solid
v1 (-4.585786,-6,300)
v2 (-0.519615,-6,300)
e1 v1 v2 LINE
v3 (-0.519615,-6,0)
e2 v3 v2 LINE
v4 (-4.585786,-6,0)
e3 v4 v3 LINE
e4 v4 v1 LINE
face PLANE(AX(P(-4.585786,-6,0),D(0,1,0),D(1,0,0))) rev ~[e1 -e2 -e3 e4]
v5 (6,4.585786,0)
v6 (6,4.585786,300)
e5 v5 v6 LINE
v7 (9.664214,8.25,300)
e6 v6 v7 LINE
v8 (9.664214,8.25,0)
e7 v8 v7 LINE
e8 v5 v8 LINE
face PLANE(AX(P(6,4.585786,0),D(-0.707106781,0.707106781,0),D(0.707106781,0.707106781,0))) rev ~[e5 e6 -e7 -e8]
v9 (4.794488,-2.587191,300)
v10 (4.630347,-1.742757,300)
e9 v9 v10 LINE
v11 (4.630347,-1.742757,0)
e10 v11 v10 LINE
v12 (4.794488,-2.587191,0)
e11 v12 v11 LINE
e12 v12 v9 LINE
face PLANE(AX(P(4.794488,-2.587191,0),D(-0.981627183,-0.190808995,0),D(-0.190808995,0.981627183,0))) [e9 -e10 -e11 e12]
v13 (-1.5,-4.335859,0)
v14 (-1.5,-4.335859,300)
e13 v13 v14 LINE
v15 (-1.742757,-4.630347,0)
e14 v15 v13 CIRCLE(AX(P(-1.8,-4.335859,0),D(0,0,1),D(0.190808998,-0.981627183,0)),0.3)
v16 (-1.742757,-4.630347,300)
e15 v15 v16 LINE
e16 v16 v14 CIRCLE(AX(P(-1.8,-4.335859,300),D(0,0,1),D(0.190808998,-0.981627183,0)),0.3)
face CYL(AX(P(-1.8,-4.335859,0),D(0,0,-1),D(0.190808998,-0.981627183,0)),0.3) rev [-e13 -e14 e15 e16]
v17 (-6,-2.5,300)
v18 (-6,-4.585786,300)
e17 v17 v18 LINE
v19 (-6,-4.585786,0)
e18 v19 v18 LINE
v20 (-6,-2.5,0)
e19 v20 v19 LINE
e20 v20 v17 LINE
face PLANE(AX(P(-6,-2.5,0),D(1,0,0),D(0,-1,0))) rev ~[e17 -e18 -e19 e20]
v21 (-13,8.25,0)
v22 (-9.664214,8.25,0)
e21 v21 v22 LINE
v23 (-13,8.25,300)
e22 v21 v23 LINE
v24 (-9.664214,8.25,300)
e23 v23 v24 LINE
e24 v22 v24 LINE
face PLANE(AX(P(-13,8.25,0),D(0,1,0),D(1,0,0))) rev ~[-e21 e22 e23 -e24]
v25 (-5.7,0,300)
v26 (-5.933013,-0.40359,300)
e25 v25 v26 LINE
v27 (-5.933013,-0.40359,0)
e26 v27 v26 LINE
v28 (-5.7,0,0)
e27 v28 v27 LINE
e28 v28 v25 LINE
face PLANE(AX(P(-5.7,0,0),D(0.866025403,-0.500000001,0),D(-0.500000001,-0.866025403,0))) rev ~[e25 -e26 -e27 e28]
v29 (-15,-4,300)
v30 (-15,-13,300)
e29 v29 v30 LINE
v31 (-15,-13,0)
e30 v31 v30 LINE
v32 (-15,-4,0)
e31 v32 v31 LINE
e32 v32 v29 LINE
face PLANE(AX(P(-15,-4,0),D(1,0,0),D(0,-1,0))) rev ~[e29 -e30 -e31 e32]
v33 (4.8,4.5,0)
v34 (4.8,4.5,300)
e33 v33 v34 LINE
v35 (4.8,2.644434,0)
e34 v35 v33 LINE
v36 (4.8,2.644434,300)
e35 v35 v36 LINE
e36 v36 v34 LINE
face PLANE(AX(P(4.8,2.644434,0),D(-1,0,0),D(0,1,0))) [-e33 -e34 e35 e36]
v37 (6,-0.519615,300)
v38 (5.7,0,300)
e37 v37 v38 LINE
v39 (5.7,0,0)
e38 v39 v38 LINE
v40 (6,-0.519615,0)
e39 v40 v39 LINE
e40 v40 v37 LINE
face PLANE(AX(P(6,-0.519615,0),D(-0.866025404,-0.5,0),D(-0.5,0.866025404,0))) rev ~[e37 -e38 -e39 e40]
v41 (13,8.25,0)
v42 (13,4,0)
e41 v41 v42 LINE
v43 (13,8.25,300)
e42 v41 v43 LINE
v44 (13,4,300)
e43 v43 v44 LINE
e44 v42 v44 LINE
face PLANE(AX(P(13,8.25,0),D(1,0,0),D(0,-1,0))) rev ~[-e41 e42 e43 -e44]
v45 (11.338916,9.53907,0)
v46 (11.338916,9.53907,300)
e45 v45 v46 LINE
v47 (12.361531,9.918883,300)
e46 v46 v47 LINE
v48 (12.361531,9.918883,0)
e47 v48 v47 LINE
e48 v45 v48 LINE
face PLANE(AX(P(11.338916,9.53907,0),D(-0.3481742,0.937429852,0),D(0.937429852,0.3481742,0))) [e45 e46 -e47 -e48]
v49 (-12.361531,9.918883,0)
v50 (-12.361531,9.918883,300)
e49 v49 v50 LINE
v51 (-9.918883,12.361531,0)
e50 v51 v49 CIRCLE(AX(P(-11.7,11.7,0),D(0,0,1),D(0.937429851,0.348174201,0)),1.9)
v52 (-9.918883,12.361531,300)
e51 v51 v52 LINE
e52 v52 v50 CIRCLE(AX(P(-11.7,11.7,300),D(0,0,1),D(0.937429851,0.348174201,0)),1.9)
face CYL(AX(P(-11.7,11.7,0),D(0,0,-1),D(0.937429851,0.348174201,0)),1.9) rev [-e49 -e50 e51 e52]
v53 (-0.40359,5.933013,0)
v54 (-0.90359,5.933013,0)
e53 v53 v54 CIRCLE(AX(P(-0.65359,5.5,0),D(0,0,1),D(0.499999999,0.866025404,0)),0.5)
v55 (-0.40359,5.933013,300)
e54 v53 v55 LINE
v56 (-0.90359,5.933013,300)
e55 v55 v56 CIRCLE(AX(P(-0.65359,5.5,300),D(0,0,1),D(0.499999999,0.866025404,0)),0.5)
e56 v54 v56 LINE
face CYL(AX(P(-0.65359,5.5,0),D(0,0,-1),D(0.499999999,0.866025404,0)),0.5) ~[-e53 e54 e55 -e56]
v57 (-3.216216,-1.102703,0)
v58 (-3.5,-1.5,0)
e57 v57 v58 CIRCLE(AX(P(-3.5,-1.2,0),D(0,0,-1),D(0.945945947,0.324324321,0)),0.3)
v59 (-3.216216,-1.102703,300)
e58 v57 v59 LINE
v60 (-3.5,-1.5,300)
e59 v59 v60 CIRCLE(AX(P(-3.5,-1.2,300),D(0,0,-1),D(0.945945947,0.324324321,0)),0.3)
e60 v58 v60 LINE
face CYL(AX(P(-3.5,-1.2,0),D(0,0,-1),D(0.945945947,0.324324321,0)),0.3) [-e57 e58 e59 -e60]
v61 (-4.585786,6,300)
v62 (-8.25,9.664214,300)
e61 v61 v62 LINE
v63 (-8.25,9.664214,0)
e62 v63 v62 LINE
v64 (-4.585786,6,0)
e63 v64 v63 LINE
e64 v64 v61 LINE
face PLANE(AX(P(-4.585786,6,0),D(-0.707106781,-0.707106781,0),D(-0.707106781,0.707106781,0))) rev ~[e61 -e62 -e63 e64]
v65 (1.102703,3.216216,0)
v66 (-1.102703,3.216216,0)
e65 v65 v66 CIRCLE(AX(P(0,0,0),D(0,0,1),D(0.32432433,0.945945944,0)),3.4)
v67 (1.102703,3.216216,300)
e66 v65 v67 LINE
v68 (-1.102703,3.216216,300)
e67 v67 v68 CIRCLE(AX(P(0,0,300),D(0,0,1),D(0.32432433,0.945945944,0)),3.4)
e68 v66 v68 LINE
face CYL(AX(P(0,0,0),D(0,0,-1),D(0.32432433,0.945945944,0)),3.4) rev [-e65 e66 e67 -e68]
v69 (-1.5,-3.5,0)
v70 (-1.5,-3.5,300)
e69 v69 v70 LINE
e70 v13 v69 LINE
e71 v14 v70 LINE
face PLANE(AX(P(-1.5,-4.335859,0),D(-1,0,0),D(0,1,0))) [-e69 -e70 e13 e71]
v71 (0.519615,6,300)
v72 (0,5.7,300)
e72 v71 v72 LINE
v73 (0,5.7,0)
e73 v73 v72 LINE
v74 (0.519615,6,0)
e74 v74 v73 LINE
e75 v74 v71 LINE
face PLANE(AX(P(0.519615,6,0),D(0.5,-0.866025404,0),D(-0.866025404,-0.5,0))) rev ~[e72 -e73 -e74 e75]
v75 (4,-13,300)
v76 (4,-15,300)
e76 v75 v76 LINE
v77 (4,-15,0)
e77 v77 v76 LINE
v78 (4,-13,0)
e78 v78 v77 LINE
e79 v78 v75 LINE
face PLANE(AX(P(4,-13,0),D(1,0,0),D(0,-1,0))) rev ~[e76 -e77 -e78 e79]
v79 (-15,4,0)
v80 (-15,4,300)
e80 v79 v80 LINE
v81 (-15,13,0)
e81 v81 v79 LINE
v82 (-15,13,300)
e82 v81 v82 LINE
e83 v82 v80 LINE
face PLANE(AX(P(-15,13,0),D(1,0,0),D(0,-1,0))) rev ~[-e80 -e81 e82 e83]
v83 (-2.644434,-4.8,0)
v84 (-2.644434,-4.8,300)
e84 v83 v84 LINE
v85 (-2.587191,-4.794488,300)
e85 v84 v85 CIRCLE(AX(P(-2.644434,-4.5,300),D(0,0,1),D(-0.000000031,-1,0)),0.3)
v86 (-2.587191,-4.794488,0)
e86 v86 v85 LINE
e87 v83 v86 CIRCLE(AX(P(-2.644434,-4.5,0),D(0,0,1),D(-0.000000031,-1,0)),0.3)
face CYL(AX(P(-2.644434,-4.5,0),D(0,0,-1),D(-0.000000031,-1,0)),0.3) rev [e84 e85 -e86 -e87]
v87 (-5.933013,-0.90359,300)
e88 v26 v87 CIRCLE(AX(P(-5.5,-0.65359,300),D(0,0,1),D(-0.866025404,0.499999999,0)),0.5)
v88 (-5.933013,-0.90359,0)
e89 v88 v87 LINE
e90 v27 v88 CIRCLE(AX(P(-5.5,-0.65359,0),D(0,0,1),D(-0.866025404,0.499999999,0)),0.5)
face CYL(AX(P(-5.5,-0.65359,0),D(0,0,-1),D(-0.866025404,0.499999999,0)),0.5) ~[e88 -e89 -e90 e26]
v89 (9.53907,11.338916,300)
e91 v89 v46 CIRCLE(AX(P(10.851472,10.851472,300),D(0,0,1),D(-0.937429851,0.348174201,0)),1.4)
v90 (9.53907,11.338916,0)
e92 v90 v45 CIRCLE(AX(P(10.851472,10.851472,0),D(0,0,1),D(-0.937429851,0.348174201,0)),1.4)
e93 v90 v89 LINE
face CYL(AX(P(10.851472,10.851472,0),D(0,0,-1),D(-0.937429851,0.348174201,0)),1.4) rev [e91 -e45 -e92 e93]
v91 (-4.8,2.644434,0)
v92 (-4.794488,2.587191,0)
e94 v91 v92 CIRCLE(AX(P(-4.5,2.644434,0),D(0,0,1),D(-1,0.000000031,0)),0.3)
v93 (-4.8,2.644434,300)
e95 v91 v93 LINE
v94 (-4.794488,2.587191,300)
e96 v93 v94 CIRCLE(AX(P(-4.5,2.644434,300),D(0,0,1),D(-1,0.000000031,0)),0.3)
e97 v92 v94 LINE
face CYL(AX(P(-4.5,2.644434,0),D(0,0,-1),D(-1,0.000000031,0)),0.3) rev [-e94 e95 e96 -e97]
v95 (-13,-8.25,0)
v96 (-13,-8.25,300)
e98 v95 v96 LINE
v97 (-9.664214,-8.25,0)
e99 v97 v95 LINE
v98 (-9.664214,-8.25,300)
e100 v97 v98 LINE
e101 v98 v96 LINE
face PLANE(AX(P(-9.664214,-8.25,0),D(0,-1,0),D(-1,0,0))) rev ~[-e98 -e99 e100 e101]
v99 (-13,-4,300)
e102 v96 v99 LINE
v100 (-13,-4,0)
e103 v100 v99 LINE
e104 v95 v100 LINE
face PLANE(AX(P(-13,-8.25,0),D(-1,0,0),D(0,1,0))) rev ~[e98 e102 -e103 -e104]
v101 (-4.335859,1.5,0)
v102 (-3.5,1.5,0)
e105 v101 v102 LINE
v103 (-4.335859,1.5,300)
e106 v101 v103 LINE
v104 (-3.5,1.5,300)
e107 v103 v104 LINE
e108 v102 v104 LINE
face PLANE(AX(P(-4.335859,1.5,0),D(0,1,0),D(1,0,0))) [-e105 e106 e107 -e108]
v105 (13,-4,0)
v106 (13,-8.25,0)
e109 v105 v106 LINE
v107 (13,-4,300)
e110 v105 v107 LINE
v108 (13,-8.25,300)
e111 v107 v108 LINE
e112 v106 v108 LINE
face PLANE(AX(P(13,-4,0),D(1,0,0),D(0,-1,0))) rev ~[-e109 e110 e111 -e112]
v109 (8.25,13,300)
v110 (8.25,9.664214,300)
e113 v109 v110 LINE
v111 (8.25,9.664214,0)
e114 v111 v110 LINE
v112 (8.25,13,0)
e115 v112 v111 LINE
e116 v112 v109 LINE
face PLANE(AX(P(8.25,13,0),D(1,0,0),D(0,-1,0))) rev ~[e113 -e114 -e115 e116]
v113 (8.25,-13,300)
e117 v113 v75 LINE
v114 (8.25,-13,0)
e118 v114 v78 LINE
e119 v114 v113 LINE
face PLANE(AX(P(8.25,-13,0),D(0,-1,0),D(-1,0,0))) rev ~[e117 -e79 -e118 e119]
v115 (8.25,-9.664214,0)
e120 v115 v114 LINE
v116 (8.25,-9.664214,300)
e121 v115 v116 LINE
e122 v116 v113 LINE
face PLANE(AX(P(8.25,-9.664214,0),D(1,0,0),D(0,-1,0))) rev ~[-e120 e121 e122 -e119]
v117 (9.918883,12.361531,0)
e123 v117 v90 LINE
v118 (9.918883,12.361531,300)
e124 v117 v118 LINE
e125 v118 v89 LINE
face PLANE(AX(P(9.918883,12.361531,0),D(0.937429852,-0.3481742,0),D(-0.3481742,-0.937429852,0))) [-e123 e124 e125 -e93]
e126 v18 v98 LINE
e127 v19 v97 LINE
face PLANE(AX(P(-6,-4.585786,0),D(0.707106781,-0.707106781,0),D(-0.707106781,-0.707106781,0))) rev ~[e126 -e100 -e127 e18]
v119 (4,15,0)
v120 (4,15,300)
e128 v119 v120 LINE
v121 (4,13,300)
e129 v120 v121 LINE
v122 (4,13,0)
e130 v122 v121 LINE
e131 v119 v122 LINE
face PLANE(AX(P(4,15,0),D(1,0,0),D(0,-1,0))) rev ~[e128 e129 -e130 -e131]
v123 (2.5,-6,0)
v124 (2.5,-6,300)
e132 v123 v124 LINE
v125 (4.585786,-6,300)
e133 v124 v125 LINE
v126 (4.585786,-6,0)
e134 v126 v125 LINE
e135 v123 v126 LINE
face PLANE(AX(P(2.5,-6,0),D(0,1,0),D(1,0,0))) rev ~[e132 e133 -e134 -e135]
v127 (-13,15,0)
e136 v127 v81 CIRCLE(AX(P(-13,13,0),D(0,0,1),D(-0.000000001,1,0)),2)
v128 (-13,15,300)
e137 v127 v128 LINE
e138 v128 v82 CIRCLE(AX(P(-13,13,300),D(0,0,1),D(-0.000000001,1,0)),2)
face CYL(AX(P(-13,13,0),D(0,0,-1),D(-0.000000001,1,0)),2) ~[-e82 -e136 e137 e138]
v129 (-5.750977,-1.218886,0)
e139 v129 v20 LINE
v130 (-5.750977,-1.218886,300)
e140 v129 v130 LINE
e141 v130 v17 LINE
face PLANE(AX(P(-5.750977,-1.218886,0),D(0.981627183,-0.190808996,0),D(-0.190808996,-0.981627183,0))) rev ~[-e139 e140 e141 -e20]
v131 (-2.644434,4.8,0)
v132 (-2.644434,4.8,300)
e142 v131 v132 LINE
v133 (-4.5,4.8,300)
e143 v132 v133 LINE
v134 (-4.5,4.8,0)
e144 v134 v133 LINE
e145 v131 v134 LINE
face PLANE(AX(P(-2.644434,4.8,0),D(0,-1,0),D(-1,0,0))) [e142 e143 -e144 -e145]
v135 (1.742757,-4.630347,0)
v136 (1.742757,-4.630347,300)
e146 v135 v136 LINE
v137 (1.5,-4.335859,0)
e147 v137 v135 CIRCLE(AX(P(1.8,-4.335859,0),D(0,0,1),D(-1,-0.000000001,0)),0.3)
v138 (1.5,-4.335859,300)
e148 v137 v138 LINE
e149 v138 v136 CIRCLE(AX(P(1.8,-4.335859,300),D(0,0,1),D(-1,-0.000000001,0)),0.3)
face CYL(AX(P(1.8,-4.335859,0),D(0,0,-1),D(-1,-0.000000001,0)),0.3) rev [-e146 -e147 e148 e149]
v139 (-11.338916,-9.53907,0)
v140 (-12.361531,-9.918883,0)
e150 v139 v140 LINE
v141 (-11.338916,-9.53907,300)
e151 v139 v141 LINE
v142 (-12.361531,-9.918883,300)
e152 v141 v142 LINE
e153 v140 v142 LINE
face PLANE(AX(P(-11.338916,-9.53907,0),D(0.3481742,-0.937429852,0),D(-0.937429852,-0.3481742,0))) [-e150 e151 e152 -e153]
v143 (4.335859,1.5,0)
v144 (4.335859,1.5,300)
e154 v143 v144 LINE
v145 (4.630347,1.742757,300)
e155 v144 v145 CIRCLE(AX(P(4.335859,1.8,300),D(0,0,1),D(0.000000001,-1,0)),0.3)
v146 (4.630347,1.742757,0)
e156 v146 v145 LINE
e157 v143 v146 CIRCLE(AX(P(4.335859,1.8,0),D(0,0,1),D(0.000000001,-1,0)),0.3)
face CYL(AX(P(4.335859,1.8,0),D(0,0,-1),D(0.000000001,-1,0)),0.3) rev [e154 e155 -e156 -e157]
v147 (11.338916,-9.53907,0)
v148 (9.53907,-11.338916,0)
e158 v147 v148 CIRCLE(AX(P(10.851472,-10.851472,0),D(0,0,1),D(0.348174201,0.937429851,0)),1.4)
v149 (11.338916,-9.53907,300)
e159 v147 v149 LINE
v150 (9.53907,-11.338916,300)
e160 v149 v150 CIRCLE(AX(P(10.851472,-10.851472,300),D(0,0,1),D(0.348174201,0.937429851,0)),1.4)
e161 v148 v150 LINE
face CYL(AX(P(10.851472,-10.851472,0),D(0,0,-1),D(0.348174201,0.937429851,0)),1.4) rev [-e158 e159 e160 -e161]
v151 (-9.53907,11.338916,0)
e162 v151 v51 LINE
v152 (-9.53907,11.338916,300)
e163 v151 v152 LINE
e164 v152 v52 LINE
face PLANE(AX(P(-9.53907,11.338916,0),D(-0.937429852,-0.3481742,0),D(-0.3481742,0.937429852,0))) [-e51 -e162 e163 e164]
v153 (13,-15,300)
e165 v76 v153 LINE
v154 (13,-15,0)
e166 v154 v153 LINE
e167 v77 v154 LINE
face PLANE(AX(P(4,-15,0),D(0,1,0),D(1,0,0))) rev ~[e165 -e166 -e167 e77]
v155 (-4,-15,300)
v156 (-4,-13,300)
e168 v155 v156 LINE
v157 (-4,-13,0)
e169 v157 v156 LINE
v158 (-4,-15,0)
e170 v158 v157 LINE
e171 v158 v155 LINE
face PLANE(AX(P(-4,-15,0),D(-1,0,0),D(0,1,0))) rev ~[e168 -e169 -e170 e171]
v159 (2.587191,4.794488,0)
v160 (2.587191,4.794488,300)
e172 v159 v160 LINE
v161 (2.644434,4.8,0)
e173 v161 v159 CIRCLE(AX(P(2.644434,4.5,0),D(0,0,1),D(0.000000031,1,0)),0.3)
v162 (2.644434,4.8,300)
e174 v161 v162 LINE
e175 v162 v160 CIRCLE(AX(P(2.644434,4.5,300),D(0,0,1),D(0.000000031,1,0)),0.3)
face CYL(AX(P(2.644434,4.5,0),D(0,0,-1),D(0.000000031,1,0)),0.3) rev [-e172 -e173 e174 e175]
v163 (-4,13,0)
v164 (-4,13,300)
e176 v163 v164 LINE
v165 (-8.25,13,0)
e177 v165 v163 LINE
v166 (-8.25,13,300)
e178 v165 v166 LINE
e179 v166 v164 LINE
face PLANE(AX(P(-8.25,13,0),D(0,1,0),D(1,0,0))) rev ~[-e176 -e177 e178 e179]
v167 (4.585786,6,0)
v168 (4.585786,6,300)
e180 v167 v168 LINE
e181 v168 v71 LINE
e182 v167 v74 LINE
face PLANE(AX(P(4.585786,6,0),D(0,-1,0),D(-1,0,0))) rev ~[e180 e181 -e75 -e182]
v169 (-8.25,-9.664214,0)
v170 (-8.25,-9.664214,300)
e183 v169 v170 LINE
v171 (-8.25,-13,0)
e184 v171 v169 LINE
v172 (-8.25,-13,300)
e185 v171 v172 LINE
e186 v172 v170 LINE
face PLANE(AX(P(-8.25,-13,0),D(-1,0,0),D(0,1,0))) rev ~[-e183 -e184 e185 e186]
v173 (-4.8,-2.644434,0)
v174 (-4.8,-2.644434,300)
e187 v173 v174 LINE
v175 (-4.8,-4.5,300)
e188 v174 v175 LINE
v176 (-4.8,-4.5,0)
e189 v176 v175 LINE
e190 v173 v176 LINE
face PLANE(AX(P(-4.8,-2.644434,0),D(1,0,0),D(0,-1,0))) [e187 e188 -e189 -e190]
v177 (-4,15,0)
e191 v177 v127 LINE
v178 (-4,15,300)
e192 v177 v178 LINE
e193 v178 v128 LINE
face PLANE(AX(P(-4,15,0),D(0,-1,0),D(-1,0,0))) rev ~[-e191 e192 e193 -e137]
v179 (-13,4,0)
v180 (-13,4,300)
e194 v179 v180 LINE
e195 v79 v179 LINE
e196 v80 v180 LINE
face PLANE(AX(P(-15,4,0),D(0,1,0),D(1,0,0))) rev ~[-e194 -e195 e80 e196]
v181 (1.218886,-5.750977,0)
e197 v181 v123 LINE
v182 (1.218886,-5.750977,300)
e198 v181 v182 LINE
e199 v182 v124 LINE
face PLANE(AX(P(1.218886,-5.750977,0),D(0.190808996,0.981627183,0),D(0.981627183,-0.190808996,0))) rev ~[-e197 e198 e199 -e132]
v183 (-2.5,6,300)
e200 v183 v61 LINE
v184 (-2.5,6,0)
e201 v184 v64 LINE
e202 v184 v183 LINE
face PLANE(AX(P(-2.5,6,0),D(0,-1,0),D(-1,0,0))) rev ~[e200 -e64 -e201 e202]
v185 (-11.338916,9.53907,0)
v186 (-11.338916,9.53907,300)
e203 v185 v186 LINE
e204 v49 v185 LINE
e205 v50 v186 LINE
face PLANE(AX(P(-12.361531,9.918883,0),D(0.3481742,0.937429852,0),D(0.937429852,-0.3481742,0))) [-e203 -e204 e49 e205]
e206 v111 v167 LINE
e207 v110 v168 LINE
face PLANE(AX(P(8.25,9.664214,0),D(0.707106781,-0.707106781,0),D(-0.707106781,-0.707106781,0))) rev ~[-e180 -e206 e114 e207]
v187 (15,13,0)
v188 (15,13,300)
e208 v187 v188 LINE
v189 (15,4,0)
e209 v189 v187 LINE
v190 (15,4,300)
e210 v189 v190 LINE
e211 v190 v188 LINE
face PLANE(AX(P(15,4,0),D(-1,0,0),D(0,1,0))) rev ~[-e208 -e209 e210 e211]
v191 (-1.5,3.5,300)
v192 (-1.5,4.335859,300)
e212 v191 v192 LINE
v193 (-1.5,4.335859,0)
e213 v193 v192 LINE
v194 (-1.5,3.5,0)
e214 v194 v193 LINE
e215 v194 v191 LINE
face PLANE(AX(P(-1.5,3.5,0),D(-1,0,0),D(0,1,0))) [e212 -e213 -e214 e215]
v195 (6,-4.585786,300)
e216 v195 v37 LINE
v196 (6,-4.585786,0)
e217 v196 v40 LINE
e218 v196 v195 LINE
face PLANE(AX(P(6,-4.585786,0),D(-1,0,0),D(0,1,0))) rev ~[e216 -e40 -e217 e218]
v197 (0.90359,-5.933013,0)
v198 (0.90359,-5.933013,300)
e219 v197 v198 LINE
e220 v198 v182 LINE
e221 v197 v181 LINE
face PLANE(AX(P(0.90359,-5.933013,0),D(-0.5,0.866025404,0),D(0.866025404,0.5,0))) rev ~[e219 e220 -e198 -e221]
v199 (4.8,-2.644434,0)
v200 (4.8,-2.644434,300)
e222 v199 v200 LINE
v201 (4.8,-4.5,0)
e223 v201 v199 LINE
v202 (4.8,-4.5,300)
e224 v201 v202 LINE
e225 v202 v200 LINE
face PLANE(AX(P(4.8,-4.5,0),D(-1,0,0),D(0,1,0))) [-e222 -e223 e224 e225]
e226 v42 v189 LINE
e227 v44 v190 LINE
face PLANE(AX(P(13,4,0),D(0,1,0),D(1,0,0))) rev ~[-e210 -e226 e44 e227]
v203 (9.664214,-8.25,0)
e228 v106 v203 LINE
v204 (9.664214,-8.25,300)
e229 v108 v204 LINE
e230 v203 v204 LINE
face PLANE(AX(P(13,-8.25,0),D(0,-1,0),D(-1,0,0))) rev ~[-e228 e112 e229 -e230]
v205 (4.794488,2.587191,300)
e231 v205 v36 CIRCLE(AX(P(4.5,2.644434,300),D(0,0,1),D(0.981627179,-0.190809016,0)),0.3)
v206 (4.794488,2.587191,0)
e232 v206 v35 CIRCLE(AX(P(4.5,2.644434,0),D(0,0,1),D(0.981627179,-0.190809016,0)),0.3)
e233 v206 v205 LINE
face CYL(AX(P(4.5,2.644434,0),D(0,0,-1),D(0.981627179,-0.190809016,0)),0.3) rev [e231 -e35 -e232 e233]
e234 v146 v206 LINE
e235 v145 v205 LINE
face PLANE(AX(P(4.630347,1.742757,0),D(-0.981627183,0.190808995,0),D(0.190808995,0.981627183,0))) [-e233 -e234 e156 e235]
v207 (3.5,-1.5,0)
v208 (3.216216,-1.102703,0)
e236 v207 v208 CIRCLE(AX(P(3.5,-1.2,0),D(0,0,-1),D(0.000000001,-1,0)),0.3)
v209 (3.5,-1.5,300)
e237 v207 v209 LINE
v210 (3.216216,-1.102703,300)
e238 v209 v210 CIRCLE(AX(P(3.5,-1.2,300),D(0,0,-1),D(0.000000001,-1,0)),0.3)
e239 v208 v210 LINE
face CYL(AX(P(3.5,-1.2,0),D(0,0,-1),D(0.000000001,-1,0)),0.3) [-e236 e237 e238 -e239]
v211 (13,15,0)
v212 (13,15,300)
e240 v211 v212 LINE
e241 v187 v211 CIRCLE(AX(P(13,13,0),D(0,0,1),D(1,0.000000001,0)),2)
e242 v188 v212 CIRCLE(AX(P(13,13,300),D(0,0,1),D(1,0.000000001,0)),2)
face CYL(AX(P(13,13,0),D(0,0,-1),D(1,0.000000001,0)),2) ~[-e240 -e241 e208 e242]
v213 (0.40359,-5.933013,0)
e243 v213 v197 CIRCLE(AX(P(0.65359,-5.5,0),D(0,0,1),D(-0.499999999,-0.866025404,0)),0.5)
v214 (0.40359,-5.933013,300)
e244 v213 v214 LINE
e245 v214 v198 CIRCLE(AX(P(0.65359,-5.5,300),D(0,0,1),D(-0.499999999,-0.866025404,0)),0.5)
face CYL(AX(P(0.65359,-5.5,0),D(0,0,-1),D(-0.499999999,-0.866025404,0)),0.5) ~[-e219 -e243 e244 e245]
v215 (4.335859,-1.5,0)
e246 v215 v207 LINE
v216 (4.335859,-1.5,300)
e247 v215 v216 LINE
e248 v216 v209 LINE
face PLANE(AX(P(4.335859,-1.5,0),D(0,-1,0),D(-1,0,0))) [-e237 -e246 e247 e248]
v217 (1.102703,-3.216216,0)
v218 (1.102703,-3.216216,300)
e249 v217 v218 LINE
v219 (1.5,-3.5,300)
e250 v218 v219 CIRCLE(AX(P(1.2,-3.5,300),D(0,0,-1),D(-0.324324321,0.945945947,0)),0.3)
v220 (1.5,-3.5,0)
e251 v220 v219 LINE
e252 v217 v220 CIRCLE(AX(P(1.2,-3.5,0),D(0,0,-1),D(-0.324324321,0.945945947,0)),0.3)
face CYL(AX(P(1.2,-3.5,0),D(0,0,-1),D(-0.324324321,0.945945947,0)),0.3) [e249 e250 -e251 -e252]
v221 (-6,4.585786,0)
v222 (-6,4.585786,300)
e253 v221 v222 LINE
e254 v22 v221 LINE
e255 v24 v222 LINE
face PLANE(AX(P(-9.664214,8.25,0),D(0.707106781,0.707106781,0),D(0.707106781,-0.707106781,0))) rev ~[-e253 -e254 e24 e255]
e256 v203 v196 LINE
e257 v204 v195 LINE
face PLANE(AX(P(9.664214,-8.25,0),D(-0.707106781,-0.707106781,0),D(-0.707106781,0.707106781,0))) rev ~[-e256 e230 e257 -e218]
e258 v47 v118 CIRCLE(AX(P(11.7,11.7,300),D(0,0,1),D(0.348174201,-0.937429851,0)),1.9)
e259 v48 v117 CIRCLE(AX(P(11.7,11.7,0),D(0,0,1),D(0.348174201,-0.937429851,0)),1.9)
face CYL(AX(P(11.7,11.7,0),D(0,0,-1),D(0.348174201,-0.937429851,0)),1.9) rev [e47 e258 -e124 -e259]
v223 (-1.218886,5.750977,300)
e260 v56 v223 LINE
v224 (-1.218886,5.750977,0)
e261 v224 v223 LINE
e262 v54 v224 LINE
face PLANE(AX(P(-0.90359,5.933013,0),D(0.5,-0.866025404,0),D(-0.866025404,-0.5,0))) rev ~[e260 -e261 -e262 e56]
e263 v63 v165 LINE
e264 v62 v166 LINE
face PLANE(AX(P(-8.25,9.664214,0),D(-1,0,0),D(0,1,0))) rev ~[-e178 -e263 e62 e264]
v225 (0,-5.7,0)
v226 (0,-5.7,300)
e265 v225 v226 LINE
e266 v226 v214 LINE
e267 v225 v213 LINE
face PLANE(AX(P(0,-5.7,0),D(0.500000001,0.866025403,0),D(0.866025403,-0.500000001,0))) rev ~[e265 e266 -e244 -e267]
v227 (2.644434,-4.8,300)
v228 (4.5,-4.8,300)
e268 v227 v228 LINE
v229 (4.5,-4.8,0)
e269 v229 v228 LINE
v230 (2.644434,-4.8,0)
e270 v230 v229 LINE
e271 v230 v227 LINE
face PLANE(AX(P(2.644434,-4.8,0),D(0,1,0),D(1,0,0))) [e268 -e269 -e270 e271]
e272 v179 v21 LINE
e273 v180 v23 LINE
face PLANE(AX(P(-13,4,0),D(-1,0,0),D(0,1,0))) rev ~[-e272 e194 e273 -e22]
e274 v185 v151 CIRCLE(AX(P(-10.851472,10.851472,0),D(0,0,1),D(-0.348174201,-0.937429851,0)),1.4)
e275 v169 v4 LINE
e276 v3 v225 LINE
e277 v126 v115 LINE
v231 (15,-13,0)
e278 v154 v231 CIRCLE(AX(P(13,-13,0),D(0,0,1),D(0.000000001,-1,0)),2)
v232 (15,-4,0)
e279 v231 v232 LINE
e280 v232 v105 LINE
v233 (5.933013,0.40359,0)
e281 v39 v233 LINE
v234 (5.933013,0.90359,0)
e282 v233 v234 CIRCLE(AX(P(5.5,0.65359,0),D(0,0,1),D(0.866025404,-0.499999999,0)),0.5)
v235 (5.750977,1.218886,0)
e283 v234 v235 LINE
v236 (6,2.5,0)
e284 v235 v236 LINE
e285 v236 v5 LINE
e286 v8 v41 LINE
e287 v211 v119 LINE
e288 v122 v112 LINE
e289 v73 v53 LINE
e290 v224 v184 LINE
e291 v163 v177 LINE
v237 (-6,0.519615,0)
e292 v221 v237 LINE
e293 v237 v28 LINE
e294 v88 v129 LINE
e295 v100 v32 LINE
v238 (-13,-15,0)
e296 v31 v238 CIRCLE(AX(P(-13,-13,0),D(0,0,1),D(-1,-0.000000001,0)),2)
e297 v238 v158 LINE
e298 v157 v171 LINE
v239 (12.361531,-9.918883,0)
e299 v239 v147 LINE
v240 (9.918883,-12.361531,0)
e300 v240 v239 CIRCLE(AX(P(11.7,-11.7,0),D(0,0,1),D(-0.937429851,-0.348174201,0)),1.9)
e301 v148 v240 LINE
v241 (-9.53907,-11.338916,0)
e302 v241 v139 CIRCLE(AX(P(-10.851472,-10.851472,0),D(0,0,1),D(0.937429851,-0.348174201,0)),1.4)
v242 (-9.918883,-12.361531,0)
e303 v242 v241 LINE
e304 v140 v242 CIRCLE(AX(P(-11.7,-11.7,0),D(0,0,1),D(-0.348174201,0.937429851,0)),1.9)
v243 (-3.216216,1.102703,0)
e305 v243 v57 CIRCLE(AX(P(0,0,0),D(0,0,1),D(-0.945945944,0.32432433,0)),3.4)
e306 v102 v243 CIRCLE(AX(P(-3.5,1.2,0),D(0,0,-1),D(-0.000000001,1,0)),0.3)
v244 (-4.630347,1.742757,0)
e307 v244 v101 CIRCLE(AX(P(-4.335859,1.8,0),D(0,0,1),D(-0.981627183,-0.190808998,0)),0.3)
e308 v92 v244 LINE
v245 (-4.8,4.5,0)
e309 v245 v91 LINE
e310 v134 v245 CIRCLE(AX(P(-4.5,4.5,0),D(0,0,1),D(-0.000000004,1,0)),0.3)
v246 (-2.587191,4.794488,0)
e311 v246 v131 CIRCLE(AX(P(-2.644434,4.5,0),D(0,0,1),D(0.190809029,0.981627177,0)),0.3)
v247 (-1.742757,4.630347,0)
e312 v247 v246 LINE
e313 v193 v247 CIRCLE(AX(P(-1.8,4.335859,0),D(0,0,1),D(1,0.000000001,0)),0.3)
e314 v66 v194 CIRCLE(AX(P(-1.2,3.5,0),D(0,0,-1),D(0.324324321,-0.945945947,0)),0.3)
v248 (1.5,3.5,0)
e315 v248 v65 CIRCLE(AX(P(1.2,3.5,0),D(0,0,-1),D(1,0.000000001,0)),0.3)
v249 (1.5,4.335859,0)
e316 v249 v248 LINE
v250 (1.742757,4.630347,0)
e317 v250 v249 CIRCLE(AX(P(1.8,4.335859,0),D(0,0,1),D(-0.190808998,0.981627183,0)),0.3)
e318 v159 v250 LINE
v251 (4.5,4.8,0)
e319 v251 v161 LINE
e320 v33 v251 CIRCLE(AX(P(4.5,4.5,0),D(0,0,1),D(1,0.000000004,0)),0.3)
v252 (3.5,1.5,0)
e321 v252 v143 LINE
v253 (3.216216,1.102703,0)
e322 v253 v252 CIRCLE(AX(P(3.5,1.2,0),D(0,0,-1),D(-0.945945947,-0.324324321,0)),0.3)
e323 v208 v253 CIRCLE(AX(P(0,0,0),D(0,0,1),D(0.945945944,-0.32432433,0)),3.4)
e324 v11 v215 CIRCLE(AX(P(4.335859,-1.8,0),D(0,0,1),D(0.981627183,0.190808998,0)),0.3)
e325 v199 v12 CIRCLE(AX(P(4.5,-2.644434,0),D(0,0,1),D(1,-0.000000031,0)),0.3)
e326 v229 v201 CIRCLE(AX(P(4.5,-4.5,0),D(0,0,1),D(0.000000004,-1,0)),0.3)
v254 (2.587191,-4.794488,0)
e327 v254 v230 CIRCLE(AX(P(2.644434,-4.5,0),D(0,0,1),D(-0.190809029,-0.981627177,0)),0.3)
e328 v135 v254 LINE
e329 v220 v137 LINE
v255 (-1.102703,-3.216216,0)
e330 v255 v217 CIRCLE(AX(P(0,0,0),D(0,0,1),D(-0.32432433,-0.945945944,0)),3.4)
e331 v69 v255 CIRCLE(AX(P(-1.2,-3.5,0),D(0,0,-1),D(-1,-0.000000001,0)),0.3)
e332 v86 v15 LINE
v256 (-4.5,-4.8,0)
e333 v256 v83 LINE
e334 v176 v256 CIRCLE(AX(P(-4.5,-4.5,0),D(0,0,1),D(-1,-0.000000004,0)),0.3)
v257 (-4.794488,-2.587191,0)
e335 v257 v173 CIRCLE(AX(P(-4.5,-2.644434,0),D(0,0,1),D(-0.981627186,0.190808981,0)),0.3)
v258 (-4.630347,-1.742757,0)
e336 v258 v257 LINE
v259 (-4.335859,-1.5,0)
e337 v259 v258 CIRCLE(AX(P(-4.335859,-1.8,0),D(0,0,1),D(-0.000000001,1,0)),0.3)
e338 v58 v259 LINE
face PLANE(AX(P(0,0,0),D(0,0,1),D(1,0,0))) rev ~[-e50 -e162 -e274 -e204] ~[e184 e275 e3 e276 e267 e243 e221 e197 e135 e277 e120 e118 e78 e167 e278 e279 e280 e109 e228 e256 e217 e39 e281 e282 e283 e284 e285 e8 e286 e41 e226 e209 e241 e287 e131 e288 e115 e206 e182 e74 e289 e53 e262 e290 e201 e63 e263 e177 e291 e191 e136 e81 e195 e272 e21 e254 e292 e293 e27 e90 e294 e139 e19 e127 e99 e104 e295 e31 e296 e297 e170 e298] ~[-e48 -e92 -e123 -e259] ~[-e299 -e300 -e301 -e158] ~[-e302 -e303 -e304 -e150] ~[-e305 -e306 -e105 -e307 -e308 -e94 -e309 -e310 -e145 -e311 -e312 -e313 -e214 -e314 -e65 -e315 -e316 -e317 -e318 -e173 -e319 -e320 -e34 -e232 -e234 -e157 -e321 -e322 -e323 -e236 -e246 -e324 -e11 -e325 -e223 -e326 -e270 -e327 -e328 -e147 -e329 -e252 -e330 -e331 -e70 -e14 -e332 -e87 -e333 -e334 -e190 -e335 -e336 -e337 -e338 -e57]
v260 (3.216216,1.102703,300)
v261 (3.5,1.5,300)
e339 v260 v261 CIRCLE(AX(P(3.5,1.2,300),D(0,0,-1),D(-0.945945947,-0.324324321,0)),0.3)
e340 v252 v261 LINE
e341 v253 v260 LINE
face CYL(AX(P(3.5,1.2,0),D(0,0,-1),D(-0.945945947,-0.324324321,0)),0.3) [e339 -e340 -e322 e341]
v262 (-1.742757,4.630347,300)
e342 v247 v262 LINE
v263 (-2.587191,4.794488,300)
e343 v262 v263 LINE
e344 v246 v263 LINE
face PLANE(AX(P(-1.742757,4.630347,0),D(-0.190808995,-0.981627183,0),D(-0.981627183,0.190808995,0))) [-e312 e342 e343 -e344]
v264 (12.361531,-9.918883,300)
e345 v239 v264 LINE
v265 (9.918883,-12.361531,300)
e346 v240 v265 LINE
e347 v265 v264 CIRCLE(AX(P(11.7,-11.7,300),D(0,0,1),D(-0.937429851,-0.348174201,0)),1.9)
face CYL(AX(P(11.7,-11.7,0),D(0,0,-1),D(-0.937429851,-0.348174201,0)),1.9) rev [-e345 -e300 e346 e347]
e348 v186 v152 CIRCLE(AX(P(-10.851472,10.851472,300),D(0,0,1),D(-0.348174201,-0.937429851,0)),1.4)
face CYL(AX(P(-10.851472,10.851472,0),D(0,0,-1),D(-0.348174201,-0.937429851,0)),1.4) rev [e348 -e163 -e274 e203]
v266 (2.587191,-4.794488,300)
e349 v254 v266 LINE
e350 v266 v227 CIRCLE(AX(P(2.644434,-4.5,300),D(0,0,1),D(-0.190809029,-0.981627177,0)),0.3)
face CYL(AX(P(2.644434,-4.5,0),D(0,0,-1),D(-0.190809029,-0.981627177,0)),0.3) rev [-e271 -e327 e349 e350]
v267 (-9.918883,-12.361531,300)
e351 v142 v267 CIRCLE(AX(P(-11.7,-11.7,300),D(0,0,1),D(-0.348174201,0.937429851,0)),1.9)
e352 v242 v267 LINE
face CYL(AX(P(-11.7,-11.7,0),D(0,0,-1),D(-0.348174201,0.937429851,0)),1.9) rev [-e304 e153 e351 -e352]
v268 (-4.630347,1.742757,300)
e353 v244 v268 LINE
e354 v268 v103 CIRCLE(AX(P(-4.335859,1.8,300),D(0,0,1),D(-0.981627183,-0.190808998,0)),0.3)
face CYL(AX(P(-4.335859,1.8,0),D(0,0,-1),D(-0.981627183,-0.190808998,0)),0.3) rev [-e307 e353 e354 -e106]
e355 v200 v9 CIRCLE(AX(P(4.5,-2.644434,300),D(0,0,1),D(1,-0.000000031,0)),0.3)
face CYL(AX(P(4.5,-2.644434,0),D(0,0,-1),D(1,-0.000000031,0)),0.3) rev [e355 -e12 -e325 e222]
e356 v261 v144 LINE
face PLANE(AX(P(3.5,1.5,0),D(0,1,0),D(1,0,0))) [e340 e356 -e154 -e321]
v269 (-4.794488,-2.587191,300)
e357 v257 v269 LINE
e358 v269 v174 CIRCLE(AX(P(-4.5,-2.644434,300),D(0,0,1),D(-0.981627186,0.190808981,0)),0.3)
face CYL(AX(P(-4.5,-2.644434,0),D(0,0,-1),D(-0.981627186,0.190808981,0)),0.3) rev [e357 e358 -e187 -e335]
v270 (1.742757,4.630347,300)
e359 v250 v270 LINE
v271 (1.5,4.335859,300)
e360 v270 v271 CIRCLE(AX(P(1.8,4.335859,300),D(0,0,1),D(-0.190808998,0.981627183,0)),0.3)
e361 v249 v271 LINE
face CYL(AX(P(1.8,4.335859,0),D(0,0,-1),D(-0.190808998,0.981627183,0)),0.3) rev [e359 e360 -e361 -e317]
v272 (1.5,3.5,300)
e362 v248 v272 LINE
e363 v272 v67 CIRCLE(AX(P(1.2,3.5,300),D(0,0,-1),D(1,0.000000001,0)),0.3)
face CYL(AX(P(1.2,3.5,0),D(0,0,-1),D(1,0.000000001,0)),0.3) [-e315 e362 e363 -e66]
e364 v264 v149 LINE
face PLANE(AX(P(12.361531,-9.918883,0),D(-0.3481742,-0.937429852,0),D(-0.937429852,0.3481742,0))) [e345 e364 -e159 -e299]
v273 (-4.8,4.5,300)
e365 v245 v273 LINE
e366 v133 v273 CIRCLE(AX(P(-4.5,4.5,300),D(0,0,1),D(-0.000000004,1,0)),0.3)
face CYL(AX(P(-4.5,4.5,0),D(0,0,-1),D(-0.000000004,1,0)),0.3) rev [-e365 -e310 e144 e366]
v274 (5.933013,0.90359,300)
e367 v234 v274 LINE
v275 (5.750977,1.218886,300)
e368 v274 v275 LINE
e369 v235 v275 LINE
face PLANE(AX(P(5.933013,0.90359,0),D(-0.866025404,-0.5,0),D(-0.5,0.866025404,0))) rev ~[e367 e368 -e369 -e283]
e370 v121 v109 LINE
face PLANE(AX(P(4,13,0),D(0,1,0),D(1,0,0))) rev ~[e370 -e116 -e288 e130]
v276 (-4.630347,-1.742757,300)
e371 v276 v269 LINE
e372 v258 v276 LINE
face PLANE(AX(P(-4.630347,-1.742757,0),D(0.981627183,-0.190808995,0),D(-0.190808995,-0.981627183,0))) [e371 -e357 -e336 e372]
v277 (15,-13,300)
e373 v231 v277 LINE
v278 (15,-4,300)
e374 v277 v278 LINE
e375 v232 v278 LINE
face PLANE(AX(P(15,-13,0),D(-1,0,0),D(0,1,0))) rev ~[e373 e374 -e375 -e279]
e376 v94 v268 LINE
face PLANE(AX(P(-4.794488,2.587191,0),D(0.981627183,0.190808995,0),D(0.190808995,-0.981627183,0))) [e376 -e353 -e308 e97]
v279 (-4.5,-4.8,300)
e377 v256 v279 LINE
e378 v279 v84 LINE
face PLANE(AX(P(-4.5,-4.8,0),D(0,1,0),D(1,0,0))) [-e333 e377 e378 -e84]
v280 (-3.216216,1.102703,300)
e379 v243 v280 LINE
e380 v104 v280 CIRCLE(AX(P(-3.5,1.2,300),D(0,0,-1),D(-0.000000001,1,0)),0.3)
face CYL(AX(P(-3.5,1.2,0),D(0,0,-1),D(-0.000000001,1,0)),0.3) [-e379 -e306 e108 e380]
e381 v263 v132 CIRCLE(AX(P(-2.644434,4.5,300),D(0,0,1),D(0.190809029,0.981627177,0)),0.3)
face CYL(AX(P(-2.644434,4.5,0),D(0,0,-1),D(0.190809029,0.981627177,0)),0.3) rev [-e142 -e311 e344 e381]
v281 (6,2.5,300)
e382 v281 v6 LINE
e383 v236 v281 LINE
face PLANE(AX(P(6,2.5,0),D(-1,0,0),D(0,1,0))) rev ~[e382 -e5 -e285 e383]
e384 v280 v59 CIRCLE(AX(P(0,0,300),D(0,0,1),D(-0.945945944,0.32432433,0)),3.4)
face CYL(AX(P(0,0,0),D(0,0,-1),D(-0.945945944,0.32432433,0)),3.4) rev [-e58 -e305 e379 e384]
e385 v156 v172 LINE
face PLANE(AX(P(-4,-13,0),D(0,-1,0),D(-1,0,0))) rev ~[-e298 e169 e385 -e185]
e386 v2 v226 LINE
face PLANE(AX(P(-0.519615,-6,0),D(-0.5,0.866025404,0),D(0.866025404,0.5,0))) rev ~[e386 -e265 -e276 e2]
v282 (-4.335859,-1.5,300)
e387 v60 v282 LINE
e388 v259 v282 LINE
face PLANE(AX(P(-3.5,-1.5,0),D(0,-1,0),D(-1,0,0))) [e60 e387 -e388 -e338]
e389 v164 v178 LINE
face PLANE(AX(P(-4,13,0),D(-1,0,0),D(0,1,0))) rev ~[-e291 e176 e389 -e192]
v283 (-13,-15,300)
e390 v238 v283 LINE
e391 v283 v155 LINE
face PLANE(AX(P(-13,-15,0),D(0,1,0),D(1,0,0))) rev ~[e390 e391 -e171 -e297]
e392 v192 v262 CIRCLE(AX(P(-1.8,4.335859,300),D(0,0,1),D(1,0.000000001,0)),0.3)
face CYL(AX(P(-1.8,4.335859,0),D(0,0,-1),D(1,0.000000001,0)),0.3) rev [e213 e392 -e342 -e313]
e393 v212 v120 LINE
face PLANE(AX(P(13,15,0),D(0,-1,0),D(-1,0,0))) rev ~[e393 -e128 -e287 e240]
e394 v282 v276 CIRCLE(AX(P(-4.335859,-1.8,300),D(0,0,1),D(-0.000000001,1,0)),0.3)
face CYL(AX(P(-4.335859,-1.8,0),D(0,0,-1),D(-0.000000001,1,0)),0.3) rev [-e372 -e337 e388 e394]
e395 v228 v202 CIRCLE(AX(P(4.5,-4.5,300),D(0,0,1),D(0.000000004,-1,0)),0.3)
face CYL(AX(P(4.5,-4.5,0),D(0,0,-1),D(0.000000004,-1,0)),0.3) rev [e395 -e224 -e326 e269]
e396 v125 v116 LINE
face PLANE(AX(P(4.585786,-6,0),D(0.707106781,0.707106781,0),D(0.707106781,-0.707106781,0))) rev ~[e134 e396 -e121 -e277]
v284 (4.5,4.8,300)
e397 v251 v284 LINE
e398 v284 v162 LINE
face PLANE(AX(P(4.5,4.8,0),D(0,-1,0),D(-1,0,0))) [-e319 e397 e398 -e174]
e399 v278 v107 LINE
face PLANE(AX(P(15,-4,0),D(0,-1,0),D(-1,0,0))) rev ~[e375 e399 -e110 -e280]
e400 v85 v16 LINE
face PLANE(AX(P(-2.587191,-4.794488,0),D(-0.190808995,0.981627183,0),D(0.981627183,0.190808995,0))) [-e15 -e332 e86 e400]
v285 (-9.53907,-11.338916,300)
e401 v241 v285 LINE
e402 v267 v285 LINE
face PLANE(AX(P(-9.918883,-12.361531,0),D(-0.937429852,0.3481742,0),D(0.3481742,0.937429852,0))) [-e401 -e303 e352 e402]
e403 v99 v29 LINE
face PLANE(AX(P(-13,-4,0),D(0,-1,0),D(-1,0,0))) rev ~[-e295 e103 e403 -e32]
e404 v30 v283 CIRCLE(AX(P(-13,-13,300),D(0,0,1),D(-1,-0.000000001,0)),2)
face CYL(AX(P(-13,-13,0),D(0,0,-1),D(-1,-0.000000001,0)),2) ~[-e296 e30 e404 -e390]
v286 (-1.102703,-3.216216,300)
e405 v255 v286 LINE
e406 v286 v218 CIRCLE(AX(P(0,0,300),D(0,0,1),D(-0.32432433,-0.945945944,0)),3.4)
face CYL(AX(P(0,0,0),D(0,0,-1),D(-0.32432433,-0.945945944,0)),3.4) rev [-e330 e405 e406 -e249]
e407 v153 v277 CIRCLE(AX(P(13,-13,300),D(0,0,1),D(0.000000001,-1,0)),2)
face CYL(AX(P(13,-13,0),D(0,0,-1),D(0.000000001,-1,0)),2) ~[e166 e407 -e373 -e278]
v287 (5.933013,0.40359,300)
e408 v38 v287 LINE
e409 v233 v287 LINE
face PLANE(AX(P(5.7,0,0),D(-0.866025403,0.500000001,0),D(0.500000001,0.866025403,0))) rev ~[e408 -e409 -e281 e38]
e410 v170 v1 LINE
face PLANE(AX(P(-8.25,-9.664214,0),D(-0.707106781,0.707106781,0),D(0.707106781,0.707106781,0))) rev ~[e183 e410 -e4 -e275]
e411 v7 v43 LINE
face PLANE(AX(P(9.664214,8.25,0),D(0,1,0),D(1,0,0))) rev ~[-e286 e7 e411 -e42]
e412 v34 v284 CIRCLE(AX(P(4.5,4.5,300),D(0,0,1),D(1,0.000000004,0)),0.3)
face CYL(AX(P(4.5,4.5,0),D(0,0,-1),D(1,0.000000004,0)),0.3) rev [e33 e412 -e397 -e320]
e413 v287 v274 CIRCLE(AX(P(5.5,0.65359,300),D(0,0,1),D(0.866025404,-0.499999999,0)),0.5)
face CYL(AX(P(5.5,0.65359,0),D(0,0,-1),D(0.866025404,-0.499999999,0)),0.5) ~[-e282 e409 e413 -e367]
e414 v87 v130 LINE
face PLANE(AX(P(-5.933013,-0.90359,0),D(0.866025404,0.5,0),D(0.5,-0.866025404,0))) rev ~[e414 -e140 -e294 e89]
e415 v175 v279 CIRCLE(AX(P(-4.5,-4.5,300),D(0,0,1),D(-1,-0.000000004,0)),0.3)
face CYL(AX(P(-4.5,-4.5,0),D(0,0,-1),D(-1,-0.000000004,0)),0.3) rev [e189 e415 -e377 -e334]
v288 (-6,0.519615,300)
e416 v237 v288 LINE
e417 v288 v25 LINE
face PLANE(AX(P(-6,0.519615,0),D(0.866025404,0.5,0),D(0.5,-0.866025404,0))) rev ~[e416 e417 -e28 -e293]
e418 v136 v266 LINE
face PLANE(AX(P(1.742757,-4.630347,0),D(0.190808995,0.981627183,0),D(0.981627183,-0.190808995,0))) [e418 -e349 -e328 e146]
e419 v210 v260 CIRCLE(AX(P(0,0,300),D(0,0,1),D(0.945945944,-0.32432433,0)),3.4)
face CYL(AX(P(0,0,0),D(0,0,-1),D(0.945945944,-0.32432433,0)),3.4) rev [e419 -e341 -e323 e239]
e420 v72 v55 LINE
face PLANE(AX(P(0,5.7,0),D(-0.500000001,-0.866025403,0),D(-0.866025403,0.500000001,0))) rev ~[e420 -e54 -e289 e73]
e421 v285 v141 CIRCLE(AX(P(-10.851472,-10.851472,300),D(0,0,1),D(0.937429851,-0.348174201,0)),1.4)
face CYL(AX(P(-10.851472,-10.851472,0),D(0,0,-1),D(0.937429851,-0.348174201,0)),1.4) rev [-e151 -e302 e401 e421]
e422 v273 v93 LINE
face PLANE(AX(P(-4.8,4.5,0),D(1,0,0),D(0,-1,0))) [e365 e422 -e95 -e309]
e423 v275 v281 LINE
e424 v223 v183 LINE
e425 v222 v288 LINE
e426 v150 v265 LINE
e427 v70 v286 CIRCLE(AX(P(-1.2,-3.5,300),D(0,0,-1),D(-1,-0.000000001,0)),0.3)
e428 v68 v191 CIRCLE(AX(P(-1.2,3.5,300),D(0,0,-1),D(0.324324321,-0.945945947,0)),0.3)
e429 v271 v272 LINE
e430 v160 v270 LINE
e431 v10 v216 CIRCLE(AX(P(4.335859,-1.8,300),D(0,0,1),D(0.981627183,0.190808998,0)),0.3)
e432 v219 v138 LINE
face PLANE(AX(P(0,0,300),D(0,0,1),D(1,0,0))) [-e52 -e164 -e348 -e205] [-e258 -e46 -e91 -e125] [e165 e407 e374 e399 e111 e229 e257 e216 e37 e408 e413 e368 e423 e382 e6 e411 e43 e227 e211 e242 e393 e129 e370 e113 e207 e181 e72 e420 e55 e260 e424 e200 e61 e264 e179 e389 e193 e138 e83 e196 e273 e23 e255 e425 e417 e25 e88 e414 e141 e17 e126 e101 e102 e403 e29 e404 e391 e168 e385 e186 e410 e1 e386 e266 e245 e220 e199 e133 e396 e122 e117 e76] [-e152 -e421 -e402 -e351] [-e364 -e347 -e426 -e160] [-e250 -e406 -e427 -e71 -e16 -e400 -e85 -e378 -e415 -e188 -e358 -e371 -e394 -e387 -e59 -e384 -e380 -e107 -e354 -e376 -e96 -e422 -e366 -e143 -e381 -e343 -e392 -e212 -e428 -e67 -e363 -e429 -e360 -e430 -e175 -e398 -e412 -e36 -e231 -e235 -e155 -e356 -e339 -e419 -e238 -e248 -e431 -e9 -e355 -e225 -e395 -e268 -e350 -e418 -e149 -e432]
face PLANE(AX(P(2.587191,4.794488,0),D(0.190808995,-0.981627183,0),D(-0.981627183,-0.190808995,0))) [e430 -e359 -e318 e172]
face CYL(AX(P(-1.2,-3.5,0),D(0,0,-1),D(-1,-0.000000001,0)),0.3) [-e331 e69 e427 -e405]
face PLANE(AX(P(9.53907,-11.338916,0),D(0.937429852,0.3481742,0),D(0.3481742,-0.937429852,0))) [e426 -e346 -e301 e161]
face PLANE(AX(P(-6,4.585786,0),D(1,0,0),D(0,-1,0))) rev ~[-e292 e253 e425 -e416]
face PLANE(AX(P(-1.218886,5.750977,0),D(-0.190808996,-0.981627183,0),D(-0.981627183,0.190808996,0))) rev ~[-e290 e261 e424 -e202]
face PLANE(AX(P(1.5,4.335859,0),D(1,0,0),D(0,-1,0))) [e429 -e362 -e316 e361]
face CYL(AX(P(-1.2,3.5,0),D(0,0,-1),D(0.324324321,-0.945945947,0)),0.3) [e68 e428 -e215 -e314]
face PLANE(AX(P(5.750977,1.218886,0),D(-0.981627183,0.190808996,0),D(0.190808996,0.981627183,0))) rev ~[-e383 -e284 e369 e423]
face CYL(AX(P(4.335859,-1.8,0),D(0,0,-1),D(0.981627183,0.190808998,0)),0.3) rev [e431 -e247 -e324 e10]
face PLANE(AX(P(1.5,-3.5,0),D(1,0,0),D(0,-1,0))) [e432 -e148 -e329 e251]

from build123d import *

# Parameters (mm, degrees)
BOSS_EXTRUDE1_DEPTH = 300


with BuildPart() as part:
    # Model → Boss-Extrude1 (new body)
    with BuildSketch(Plane.XY):
        with BuildLine():
            Line((-15, 13), (-15, 4))
            Line((-15, 4), (-13, 4))
            Line((-13, 4), (-13, 8.25))
            Line((-13, 8.25), (-9.664213562, 8.25))
            Line((-9.664213562, 8.25), (-6, 4.585786438))
            Line((-6, 4.585786438), (-6, 0.519615242))
            Line((-6, 0.519615242), (-5.7, 0))
            Line((-5.7, 0), (-5.933012702, -0.403589838))
            ThreePointArc((-5.933012702, -0.403589838), (-6, -0.653589838), (-5.933012702, -0.903589838))
            Line((-5.933012702, -0.903589838), (-5.750976592, -1.218885629))
            Line((-5.750976592, -1.218885629), (-6, -2.5))
            Line((-6, -2.5), (-6, -4.585786438))
            Line((-6, -4.585786438), (-9.664213562, -8.25))
            Line((-9.664213562, -8.25), (-13, -8.25))
            Line((-13, -8.25), (-13, -4))
            Line((-13, -4), (-15, -4))
            Line((-15, -4), (-15, -13))
            ThreePointArc((-15, -13), (-14.414213562, -14.414213562), (-13, -15))
            Line((-13, -15), (-4, -15))
            Line((-4, -15), (-4, -13))
            Line((-4, -13), (-8.25, -13))
            Line((-8.25, -13), (-8.25, -9.664213562))
            Line((-8.25, -9.664213562), (-4.585786438, -6))
            Line((-4.585786438, -6), (-0.519615242, -6))
            Line((-0.519615242, -6), (0, -5.7))
            Line((0, -5.7), (0.403589838, -5.933012702))
            ThreePointArc((0.403589838, -5.933012702), (0.653589838, -6), (0.903589838, -5.933012702))
            Line((0.903589838, -5.933012702), (1.218885629, -5.750976592))
            Line((1.218885629, -5.750976592), (2.5, -6))
            Line((2.5, -6), (4.585786438, -6))
            Line((4.585786438, -6), (8.25, -9.664213562))
            Line((8.25, -9.664213562), (8.25, -13))
            Line((8.25, -13), (4, -13))
            Line((4, -13), (4, -15))
            Line((4, -15), (13, -15))
            ThreePointArc((13, -15), (14.414213562, -14.414213562), (15, -13))
            Line((15, -13), (15, -4))
            Line((15, -4), (13, -4))
            Line((13, -4), (13, -8.25))
            Line((13, -8.25), (9.664213562, -8.25))
            Line((9.664213562, -8.25), (6, -4.585786438))
            Line((6, -4.585786438), (6, -0.519615242))
            Line((6, -0.519615242), (5.7, 0))
            Line((5.7, 0), (5.933012702, 0.403589838))
            ThreePointArc((5.933012702, 0.403589838), (6, 0.653589838), (5.933012702, 0.903589838))
            Line((5.933012702, 0.903589838), (5.750976592, 1.218885629))
            Line((5.750976592, 1.218885629), (6, 2.5))
            Line((6, 2.5), (6, 4.585786438))
            Line((6, 4.585786438), (9.664213562, 8.25))
            Line((9.664213562, 8.25), (13, 8.25))
            Line((13, 8.25), (13, 4))
            Line((13, 4), (15, 4))
            Line((15, 4), (15, 13))
            ThreePointArc((15, 13), (14.414213562, 14.414213562), (13, 15))
            Line((13, 15), (4, 15))
            Line((4, 15), (4, 13))
            Line((4, 13), (8.25, 13))
            Line((8.25, 13), (8.25, 9.664213562))
            Line((8.25, 9.664213562), (4.585786438, 6))
            Line((4.585786438, 6), (0.519615242, 6))
            Line((0.519615242, 6), (0, 5.7))
            Line((0, 5.7), (-0.403589838, 5.933012702))
            ThreePointArc((-0.403589838, 5.933012702), (-0.653589838, 6), (-0.903589838, 5.933012702))
            Line((-0.903589838, 5.933012702), (-1.218885629, 5.750976592))
            Line((-1.218885629, 5.750976592), (-2.5, 6))
            Line((-2.5, 6), (-4.585786438, 6))
            Line((-4.585786438, 6), (-8.25, 9.664213562))
            Line((-8.25, 9.664213562), (-8.25, 13))
            Line((-8.25, 13), (-4, 13))
            Line((-4, 13), (-4, 15))
            Line((-4, 15), (-13, 15))
            ThreePointArc((-13, 15), (-14.414213562, 14.414213562), (-15, 13))
        make_face()
        with BuildLine():
            Line((9.918883282, 12.361530981), (9.539070071, 11.338915743))
            ThreePointArc((9.539070071, 11.338915743), (9.861522369, 9.861522369), (11.338915743, 9.539070071))
            Line((11.338915743, 9.539070071), (12.361530981, 9.918883282))
            ThreePointArc((12.361530981, 9.918883282), (13.043502884, 13.043502884), (9.918883282, 12.361530981))
        make_face(mode=Mode.SUBTRACT)
        with BuildLine():
            Line((12.361530981, -9.918883282), (11.338915743, -9.539070071))
            ThreePointArc((11.338915743, -9.539070071), (9.861522369, -9.861522369), (9.539070071, -11.338915743))
            Line((9.539070071, -11.338915743), (9.918883282, -12.361530981))
            ThreePointArc((9.918883282, -12.361530981), (13.043502884, -13.043502884), (12.361530981, -9.918883282))
        make_face(mode=Mode.SUBTRACT)
        with BuildLine():
            Line((-9.539070071, 11.338915743), (-9.918883282, 12.361530981))
            ThreePointArc((-9.918883282, 12.361530981), (-13.043502884, 13.043502884), (-12.361530981, 9.918883282))
            Line((-12.361530981, 9.918883282), (-11.338915743, 9.539070071))
            ThreePointArc((-11.338915743, 9.539070071), (-9.861522369, 9.861522369), (-9.539070071, 11.338915743))
        make_face(mode=Mode.SUBTRACT)
        with BuildLine():
            Line((-11.338915743, -9.539070071), (-12.361530981, -9.918883282))
            ThreePointArc((-12.361530981, -9.918883282), (-13.043502884, -13.043502884), (-9.918883282, -12.361530981))
            Line((-9.918883282, -12.361530981), (-9.539070071, -11.338915743))
            ThreePointArc((-9.539070071, -11.338915743), (-9.861522369, -9.861522369), (-11.338915743, -9.539070071))
        make_face(mode=Mode.SUBTRACT)
        with BuildLine():
            Line((1.5, 4.335858741), (1.5, 3.5))
            ThreePointArc((1.5, 3.5), (1.374371466, 3.255879964), (1.10270272, 3.21621621))
            ThreePointArc((1.10270272, 3.21621621), (9e-09, 3.4), (-1.102702703, 3.216216216))
            ThreePointArc((-1.102702703, 3.216216216), (-1.374371458, 3.255879959), (-1.5, 3.5))
            Line((-1.5, 3.5), (-1.5, 4.335858741))
            ThreePointArc((-1.5, 4.335858741), (-1.568512625, 4.526682207), (-1.742757301, 4.630346896))
            Line((-1.742757301, 4.630346896), (-2.587190874, 4.794488155))
            ThreePointArc((-2.587190874, 4.794488155), (-2.615679847, 4.79861886), (-2.644433572, 4.8))
            Line((-2.644433572, 4.8), (-4.5, 4.8))
            ThreePointArc((-4.5, 4.8), (-4.712132034, 4.712132034), (-4.8, 4.5))
            Line((-4.8, 4.5), (-4.8, 2.644433572))
            ThreePointArc((-4.8, 2.644433572), (-4.79861886, 2.615679847), (-4.794488155, 2.587190874))
            Line((-4.794488155, 2.587190874), (-4.630346896, 1.742757301))
            ThreePointArc((-4.630346896, 1.742757301), (-4.526682207, 1.568512625), (-4.335858741, 1.5))
            Line((-4.335858741, 1.5), (-3.5, 1.5))
            ThreePointArc((-3.5, 1.5), (-3.255879964, 1.374371466), (-3.21621621, 1.10270272))
            ThreePointArc((-3.21621621, 1.10270272), (-3.4, 9e-09), (-3.216216216, -1.102702703))
            ThreePointArc((-3.216216216, -1.102702703), (-3.255879959, -1.374371458), (-3.5, -1.5))
            Line((-3.5, -1.5), (-4.335858741, -1.5))
            ThreePointArc((-4.335858741, -1.5), (-4.526682207, -1.568512625), (-4.630346896, -1.742757301))
            Line((-4.630346896, -1.742757301), (-4.794488155, -2.587190874))
            ThreePointArc((-4.794488155, -2.587190874), (-4.798618859, -2.615679844), (-4.8, -2.644433568))
            Line((-4.8, -2.644433568), (-4.8, -4.5))
            ThreePointArc((-4.8, -4.5), (-4.712132034, -4.712132034), (-4.5, -4.8))
            Line((-4.5, -4.8), (-2.644433572, -4.8))
            ThreePointArc((-2.644433572, -4.8), (-2.615679847, -4.79861886), (-2.587190874, -4.794488155))
            Line((-2.587190874, -4.794488155), (-1.742757301, -4.630346896))
            ThreePointArc((-1.742757301, -4.630346896), (-1.568512625, -4.526682207), (-1.5, -4.335858741))
            Line((-1.5, -4.335858741), (-1.5, -3.5))
            ThreePointArc((-1.5, -3.5), (-1.374371466, -3.255879964), (-1.10270272, -3.21621621))
            ThreePointArc((-1.10270272, -3.21621621), (-9e-09, -3.4), (1.102702703, -3.216216216))
            ThreePointArc((1.102702703, -3.216216216), (1.374371458, -3.255879959), (1.5, -3.5))
            Line((1.5, -3.5), (1.5, -4.335858741))
            ThreePointArc((1.5, -4.335858741), (1.568512625, -4.526682207), (1.742757301, -4.630346896))
            Line((1.742757301, -4.630346896), (2.587190874, -4.794488155))
            ThreePointArc((2.587190874, -4.794488155), (2.615679847, -4.79861886), (2.644433572, -4.8))
            Line((2.644433572, -4.8), (4.5, -4.8))
            ThreePointArc((4.5, -4.8), (4.712132034, -4.712132034), (4.8, -4.5))
            Line((4.8, -4.5), (4.8, -2.644433572))
            ThreePointArc((4.8, -2.644433572), (4.79861886, -2.615679847), (4.794488155, -2.587190874))
            Line((4.794488155, -2.587190874), (4.630346896, -1.742757301))
            ThreePointArc((4.630346896, -1.742757301), (4.526682207, -1.568512625), (4.335858741, -1.5))
            Line((4.335858741, -1.5), (3.5, -1.5))
            ThreePointArc((3.5, -1.5), (3.255879964, -1.374371466), (3.21621621, -1.10270272))
            ThreePointArc((3.21621621, -1.10270272), (3.4, -9e-09), (3.216216216, 1.102702703))
            ThreePointArc((3.216216216, 1.102702703), (3.255879959, 1.374371458), (3.5, 1.5))
            Line((3.5, 1.5), (4.335858741, 1.5))
            ThreePointArc((4.335858741, 1.5), (4.526682207, 1.568512625), (4.630346896, 1.742757301))
            Line((4.630346896, 1.742757301), (4.794488155, 2.587190874))
            ThreePointArc((4.794488155, 2.587190874), (4.79861886, 2.615679849), (4.8, 2.644433577))
            Line((4.8, 2.644433577), (4.8, 4.5))
            ThreePointArc((4.8, 4.5), (4.712132034, 4.712132034), (4.5, 4.8))
            Line((4.5, 4.8), (2.644433572, 4.8))
            ThreePointArc((2.644433572, 4.8), (2.615679847, 4.79861886), (2.587190874, 4.794488155))
            Line((2.587190874, 4.794488155), (1.742757301, 4.630346896))
            ThreePointArc((1.742757301, 4.630346896), (1.568512625, 4.526682207), (1.5, 4.335858741))
        make_face(mode=Mode.SUBTRACT)
    extrude(amount=BOSS_EXTRUDE1_DEPTH)


solid = part.part
